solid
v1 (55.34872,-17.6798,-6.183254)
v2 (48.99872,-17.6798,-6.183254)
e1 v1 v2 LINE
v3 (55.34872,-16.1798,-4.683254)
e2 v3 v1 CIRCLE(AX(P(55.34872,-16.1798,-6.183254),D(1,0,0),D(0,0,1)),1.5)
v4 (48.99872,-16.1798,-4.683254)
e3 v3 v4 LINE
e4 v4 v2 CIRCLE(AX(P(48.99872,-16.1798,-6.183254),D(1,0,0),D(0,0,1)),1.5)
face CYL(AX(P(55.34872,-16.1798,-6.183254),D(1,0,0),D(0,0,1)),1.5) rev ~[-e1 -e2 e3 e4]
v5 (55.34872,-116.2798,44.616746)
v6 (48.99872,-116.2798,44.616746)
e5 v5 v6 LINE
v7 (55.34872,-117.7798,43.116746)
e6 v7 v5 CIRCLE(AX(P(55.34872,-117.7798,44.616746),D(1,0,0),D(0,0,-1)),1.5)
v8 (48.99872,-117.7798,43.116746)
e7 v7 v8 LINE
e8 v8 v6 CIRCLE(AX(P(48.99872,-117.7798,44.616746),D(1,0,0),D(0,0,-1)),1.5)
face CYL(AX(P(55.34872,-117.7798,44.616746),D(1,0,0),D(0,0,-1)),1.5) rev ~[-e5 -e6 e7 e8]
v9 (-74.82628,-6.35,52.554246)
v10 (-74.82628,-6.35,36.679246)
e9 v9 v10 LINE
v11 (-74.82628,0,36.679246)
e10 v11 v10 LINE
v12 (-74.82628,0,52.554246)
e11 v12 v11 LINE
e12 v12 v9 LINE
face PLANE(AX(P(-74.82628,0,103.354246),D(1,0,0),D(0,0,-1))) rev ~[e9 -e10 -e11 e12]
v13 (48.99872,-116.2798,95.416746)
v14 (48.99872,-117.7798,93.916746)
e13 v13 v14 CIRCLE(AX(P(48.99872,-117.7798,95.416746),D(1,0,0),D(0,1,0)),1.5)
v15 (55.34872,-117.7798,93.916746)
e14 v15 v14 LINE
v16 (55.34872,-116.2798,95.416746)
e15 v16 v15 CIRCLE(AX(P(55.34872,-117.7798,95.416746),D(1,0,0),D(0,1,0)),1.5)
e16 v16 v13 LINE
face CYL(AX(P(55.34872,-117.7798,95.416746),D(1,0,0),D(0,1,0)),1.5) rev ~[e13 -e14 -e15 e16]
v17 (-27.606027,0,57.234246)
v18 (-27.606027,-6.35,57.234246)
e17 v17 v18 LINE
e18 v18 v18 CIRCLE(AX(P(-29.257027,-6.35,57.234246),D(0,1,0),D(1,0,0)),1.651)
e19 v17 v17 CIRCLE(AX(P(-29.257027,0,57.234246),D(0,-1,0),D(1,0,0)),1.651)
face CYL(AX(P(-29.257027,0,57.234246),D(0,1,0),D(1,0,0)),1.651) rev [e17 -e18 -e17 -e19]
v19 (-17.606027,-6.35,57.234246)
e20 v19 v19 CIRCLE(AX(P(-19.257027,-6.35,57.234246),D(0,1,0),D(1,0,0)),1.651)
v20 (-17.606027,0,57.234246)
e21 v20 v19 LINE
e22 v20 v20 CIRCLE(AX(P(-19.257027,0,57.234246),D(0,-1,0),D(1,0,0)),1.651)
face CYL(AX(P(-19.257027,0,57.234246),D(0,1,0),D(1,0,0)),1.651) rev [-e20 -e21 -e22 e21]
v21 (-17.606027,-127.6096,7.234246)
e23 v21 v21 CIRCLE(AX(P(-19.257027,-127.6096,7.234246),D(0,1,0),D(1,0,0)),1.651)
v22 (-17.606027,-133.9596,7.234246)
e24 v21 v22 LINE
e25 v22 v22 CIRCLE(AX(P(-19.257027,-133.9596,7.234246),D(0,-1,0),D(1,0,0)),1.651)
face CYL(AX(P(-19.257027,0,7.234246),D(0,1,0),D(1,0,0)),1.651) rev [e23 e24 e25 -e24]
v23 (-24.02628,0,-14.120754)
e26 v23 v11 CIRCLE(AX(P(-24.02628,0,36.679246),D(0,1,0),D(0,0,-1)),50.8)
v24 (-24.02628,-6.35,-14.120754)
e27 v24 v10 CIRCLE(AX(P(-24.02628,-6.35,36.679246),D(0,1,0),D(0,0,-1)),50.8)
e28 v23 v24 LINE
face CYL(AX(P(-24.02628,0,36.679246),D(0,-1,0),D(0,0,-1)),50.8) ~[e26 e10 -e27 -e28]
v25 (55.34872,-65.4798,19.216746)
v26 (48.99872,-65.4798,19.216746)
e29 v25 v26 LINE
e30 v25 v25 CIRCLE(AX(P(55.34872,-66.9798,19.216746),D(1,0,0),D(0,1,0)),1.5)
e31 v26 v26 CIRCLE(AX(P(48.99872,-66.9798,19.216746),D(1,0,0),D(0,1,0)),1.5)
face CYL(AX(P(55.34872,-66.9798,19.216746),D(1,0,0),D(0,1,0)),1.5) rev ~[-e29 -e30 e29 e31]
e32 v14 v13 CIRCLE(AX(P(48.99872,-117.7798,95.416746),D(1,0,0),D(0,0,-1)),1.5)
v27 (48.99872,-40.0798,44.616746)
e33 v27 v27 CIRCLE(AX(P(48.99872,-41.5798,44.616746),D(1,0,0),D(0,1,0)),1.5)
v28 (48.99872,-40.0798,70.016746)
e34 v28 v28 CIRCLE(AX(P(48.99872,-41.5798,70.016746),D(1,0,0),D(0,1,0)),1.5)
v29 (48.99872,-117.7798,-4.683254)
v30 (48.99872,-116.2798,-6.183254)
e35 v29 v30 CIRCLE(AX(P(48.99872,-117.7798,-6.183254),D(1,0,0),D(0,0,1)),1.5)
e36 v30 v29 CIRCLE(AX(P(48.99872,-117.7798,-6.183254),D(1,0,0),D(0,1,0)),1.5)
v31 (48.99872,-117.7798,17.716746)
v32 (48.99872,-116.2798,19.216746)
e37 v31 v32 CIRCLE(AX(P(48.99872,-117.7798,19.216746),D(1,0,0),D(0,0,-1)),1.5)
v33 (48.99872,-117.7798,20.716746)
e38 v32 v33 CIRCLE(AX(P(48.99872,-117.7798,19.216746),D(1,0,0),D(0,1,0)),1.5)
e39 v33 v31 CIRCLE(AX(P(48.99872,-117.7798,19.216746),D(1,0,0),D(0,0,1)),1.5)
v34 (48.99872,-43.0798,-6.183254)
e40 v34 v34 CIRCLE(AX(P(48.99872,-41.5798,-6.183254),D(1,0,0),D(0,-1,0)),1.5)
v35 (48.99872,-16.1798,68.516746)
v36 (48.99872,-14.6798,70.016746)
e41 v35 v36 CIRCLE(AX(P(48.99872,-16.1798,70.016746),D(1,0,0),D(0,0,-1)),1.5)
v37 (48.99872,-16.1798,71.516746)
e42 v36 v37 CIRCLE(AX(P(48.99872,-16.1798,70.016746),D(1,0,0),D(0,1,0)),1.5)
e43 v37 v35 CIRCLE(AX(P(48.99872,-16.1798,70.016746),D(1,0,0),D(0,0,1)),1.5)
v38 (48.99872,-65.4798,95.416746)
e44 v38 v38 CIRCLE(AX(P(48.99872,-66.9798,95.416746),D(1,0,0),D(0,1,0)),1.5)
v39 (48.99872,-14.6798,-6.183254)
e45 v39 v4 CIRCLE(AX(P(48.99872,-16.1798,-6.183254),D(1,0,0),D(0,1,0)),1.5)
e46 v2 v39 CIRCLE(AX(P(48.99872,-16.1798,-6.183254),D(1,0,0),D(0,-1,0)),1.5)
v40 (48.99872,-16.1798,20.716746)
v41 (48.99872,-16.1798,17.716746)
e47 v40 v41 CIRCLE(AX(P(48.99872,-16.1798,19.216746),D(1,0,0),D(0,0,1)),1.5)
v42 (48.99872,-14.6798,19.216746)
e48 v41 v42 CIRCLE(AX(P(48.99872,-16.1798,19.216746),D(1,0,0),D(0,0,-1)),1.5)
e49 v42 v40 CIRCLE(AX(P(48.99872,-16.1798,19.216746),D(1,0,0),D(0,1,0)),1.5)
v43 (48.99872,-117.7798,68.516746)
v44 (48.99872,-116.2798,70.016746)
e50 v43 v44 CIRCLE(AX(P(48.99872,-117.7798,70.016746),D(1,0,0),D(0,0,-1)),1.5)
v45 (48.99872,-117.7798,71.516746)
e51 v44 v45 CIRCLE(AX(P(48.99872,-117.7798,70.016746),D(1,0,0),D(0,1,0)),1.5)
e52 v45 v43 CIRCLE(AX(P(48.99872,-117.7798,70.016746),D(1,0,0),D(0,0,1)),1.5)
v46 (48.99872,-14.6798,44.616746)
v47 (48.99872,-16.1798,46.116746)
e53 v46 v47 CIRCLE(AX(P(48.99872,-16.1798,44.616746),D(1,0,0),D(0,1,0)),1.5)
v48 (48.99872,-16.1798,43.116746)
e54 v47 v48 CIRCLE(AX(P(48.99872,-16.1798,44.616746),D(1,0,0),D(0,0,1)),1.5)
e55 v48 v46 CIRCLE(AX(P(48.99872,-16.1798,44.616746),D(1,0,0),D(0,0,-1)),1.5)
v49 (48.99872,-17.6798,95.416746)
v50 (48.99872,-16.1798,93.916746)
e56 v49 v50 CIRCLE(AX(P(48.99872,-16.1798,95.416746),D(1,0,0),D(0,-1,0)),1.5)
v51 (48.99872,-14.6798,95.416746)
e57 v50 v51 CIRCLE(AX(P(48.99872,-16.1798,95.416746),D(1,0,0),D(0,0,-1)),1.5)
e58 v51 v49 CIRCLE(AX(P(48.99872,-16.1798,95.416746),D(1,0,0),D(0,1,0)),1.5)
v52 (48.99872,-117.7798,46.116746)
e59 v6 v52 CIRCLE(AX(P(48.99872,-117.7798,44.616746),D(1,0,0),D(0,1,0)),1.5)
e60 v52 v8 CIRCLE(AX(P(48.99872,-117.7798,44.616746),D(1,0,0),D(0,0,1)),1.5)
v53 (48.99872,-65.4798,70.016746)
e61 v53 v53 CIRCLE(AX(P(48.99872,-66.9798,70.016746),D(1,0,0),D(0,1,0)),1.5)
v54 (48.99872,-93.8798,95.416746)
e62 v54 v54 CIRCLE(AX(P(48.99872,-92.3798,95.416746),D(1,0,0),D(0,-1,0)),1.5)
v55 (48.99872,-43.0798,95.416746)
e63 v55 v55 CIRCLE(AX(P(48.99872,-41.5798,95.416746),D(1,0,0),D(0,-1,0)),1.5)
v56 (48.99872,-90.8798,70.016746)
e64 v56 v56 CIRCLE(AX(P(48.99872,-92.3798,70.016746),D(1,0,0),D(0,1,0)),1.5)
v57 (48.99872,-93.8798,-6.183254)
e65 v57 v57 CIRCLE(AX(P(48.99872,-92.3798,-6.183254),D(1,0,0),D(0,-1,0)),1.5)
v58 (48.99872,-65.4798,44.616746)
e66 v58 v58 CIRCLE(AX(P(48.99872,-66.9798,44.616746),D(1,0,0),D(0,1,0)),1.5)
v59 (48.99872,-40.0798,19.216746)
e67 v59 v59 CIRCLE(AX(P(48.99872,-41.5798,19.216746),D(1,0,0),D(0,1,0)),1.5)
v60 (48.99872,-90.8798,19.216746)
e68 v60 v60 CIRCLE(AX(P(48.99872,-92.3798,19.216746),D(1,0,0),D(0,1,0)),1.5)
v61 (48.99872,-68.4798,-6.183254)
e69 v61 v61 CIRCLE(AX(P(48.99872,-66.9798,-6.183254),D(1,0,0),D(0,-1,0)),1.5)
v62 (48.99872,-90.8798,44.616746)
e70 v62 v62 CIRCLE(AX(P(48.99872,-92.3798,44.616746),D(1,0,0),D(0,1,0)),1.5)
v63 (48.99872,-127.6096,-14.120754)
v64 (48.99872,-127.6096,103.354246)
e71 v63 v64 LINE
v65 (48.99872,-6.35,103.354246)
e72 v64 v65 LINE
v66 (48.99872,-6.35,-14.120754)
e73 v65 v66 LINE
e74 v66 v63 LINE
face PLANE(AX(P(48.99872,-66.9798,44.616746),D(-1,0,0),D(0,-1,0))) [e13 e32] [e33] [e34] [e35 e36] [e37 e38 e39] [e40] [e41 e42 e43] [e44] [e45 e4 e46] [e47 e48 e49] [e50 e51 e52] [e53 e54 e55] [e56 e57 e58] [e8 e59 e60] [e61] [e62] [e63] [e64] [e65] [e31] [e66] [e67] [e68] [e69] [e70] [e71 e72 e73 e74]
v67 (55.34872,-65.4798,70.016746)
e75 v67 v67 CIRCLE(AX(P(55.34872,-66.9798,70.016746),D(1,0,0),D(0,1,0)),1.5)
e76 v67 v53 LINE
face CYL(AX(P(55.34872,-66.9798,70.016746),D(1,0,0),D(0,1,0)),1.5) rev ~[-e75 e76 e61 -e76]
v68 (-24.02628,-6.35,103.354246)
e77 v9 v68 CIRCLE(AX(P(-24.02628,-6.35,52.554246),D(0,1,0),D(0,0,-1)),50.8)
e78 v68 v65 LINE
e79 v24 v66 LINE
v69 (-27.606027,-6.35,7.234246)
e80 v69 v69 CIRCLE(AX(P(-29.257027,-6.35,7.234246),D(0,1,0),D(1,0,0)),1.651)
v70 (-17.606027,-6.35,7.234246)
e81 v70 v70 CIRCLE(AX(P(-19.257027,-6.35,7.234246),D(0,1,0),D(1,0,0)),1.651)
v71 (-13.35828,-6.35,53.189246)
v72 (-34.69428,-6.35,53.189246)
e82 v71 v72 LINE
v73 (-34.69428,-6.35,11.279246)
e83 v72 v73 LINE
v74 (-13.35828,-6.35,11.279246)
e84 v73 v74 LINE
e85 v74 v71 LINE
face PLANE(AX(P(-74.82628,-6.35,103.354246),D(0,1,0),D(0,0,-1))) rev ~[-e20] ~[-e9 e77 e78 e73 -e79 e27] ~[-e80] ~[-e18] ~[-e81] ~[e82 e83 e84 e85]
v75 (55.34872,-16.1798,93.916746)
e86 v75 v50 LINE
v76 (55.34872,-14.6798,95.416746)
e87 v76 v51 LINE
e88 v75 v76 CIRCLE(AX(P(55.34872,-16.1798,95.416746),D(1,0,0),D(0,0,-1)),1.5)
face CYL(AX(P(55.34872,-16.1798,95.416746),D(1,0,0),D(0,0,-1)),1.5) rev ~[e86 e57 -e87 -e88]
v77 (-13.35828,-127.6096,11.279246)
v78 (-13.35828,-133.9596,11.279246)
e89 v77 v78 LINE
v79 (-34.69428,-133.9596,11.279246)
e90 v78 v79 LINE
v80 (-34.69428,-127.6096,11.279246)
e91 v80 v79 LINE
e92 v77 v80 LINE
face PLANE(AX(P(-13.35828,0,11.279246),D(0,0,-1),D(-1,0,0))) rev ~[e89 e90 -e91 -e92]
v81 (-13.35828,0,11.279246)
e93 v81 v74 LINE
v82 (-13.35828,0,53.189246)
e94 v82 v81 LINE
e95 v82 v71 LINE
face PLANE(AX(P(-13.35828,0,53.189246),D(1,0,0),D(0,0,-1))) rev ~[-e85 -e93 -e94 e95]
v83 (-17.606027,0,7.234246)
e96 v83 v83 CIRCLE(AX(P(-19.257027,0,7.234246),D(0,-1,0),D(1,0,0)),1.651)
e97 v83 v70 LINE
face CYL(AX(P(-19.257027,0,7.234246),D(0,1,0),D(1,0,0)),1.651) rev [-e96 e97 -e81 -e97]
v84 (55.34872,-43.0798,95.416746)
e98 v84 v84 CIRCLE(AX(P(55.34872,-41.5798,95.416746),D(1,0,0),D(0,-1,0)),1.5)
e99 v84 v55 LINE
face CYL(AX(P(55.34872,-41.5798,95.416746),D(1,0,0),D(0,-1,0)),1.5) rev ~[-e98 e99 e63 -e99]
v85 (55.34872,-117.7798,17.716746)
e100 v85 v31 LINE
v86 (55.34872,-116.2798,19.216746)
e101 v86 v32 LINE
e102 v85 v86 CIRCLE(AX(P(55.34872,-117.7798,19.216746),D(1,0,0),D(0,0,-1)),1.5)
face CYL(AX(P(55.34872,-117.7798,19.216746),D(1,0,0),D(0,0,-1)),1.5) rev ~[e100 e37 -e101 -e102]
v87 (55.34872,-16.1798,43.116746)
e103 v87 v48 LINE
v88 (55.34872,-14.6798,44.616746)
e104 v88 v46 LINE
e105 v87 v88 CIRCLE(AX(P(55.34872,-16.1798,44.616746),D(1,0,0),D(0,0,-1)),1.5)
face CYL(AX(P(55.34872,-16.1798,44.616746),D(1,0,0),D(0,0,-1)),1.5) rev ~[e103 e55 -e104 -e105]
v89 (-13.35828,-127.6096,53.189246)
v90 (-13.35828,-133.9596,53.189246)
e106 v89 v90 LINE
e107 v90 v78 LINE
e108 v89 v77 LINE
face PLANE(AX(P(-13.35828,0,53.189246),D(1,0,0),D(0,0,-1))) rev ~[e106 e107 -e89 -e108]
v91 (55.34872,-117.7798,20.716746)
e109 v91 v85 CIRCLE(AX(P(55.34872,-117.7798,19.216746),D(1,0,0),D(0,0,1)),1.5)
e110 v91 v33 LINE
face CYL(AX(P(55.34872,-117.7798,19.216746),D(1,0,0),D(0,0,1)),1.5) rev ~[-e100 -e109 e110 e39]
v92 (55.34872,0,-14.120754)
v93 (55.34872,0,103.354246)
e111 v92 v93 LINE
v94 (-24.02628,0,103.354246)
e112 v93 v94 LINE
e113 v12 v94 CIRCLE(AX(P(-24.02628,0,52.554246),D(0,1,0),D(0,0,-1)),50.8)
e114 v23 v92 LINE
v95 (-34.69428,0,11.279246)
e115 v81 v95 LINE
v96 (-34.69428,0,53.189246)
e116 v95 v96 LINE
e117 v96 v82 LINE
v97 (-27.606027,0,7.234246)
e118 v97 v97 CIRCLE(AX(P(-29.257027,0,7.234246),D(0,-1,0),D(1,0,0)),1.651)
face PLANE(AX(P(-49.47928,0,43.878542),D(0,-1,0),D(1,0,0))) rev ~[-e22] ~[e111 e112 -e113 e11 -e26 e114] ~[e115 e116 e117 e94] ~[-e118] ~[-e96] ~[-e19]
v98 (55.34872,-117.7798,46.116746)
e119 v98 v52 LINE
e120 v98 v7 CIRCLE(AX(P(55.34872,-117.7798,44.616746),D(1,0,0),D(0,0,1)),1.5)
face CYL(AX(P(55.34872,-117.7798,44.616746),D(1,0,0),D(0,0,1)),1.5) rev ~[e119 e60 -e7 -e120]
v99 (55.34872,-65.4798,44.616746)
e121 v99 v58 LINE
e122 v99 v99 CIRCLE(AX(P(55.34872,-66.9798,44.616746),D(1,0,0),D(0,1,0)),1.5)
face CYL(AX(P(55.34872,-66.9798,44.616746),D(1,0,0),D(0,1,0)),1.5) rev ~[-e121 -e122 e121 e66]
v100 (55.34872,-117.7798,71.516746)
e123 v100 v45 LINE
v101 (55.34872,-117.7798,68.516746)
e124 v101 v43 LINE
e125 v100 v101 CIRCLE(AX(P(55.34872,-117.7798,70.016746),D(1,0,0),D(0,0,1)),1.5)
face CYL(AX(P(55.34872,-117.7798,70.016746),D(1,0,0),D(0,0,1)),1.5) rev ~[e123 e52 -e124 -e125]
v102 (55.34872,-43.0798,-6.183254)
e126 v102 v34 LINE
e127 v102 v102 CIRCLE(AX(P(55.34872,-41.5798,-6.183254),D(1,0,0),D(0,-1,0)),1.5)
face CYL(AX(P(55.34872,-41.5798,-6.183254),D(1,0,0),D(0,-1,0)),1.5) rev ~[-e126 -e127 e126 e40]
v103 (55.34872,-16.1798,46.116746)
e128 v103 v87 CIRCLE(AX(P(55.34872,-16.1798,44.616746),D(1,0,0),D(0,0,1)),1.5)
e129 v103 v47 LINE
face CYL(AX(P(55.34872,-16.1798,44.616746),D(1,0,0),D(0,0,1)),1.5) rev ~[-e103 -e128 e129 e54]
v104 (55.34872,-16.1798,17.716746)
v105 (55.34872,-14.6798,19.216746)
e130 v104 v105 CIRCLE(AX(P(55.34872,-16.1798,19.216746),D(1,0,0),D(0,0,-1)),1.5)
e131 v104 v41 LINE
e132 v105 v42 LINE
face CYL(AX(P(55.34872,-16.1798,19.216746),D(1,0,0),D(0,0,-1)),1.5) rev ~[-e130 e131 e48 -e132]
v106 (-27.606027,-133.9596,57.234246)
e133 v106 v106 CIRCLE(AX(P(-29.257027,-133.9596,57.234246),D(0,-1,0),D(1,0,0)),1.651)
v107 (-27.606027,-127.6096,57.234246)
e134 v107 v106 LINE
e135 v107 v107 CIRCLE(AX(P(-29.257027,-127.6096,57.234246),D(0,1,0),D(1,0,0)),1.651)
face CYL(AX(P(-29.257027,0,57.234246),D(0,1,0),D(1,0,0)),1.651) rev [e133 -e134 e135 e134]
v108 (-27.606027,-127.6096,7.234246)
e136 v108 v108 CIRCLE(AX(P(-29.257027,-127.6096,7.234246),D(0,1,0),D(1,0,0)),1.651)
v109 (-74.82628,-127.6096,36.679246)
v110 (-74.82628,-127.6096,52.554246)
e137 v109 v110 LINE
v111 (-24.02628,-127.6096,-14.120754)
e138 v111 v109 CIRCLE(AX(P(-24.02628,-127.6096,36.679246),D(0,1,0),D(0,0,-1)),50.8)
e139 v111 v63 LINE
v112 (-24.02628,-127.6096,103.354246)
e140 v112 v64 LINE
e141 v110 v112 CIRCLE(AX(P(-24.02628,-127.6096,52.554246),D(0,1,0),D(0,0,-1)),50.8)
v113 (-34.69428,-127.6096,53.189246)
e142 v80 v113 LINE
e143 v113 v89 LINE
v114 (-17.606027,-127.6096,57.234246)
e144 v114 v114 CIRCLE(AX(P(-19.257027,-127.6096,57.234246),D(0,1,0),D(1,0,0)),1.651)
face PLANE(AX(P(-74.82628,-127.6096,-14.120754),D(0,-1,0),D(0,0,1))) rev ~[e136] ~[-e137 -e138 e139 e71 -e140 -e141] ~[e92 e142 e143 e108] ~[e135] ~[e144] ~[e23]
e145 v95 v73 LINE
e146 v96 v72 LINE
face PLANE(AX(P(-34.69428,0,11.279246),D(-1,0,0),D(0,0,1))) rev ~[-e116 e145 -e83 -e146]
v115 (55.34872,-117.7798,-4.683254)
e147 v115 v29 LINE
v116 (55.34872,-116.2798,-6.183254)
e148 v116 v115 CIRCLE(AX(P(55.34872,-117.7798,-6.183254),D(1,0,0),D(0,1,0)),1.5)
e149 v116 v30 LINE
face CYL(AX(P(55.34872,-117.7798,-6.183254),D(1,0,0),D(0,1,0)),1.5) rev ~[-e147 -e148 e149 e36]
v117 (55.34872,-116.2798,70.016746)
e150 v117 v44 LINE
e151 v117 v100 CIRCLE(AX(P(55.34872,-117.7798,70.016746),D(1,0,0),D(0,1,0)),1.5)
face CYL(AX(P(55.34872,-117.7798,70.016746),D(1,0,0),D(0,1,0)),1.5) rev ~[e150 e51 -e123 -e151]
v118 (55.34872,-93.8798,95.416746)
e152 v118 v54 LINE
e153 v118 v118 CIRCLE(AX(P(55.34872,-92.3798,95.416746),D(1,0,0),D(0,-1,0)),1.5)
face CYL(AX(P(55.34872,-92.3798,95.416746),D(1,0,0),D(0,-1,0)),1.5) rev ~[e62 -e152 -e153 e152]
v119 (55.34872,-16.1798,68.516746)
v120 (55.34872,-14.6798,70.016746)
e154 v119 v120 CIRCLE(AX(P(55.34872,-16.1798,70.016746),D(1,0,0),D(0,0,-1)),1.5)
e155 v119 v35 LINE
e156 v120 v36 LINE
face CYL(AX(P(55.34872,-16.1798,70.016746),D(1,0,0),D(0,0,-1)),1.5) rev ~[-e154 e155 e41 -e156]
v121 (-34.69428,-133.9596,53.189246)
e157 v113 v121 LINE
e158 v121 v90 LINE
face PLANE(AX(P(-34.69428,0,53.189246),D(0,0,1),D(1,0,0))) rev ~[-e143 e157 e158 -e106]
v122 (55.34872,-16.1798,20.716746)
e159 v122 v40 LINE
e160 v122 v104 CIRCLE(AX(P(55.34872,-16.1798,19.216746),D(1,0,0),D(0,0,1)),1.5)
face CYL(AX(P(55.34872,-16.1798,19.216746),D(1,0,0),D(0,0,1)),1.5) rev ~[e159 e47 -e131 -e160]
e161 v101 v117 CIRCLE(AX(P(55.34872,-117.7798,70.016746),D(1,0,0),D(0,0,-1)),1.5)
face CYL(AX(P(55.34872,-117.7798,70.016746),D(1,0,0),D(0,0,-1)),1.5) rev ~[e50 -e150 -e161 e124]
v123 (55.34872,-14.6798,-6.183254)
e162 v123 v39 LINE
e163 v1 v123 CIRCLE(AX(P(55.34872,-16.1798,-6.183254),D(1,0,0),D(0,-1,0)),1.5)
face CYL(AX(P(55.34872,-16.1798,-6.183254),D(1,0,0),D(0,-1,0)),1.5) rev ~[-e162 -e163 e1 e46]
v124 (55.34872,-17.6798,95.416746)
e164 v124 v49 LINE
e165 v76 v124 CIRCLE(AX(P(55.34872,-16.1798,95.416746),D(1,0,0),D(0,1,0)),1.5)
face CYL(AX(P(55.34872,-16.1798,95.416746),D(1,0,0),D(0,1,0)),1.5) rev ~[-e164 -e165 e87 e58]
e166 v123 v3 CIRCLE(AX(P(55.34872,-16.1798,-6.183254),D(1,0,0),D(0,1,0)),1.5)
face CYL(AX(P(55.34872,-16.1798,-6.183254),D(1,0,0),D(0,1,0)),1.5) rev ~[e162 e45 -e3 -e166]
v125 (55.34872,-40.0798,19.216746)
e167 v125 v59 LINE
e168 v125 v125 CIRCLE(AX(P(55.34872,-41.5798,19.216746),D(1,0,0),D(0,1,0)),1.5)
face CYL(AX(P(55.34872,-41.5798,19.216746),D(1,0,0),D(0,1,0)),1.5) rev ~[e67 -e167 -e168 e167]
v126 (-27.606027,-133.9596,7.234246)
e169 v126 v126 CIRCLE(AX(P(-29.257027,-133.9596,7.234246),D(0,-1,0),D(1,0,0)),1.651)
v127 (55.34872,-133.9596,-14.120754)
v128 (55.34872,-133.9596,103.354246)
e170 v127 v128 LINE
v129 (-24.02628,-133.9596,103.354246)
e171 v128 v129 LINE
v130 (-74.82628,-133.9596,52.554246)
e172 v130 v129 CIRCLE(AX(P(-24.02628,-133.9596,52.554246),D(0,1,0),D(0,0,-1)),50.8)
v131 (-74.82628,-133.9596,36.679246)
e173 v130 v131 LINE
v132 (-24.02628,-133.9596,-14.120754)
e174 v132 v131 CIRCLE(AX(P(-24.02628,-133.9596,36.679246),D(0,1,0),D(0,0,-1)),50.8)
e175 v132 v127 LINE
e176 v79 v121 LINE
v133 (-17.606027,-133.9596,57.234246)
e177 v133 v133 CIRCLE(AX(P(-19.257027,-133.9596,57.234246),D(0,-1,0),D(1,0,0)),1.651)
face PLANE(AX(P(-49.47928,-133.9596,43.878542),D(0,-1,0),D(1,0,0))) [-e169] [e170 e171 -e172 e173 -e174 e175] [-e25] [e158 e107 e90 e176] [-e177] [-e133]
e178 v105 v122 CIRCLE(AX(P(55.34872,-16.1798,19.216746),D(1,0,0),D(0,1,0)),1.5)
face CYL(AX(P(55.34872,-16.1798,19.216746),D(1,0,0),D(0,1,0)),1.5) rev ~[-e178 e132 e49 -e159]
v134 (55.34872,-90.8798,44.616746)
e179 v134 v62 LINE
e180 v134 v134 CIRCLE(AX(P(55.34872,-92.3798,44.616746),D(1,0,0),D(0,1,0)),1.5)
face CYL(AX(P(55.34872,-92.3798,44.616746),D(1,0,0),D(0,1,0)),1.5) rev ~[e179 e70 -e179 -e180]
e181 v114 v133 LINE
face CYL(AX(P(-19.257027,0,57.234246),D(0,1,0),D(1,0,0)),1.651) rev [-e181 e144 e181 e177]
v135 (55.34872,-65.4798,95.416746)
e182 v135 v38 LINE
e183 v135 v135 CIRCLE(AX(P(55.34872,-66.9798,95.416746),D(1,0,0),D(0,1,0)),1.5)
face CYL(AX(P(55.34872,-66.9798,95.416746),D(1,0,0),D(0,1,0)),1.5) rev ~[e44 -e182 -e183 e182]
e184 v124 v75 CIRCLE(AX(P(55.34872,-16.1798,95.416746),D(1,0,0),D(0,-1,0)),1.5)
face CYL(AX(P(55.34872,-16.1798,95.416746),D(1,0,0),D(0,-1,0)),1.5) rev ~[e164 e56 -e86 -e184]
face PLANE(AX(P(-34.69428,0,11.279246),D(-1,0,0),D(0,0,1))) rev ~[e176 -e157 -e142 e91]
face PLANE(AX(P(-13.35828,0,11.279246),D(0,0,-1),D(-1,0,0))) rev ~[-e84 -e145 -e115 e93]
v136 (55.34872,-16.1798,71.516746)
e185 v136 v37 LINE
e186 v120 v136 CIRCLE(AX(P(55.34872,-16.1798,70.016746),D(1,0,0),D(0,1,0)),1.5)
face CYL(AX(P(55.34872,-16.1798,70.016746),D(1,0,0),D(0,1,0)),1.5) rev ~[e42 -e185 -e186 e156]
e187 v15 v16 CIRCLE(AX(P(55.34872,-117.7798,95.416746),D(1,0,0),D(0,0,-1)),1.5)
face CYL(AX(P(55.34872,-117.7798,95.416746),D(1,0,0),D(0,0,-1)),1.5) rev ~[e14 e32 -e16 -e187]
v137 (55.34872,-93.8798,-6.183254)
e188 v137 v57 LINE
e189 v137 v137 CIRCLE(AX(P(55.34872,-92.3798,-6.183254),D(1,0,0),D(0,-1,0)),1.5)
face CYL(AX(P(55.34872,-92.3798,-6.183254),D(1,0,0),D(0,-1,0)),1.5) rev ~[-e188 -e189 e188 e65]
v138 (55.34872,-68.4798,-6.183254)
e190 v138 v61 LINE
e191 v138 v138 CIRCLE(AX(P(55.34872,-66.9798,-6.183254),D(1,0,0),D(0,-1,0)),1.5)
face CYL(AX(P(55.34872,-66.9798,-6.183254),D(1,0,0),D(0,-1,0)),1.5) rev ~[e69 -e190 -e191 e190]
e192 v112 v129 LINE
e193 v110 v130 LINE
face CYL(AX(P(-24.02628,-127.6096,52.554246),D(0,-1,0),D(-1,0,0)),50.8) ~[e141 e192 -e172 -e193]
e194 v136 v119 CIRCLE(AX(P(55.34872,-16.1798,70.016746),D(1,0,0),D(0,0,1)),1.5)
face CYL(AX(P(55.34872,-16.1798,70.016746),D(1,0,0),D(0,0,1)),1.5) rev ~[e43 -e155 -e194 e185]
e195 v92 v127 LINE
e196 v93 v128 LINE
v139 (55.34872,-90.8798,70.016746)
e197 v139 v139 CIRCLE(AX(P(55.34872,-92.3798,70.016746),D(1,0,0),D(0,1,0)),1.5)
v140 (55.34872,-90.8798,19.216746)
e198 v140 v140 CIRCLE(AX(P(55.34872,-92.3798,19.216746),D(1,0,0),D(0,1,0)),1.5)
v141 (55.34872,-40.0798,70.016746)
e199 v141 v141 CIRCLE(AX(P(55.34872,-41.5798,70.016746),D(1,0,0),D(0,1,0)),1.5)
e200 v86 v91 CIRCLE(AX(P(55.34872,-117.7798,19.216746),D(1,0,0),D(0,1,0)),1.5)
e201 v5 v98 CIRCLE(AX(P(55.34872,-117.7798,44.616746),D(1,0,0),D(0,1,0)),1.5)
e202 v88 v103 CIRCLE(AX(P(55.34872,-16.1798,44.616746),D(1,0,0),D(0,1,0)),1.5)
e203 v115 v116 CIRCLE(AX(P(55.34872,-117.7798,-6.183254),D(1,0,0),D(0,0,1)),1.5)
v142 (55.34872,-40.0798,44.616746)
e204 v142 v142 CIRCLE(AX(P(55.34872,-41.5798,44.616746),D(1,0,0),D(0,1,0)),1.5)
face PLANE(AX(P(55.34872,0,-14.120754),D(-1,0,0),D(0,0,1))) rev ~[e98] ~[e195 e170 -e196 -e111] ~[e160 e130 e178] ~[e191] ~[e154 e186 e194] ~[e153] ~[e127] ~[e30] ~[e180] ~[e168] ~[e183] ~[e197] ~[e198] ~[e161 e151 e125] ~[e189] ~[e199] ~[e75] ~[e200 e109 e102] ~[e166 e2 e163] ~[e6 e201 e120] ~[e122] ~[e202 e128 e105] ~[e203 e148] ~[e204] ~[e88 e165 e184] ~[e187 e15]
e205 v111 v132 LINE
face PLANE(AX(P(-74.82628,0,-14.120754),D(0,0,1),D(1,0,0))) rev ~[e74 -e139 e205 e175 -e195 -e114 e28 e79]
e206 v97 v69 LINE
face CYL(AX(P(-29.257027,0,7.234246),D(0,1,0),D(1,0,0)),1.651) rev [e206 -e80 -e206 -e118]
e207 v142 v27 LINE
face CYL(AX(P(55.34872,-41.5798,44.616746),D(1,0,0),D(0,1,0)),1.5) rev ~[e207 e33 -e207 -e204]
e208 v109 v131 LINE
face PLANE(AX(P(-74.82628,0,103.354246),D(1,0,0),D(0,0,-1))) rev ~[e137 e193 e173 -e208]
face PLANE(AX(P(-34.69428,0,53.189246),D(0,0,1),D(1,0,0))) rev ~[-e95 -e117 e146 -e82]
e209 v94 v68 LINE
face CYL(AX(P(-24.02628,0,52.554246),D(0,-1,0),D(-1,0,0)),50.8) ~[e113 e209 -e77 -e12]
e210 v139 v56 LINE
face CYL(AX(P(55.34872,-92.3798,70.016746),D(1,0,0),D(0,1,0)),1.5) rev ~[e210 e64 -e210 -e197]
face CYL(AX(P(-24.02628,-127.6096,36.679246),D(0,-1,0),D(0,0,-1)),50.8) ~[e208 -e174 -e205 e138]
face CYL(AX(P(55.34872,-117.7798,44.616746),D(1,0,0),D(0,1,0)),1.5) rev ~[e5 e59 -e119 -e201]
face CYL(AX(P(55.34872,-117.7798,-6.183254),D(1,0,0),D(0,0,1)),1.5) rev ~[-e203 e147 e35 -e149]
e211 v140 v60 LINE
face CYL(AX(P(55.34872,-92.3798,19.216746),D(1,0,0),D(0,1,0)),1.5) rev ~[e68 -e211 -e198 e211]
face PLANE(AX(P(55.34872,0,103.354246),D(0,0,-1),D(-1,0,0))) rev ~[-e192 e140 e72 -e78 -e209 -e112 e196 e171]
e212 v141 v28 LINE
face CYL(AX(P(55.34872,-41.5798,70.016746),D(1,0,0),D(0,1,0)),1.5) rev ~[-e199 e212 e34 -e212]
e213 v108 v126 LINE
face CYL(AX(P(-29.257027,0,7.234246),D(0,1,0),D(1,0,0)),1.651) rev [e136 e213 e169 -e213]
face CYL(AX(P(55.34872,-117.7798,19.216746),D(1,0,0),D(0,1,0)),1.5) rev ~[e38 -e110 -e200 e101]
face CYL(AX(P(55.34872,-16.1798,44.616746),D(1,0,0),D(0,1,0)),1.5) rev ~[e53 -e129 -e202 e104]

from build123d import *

# Parameters (mm, degrees)
F0_R     = 1.651
F1_DEPTH = 133.9596
F3_DEPTH = 123.825
F4_R     = 50.8
F5_R     = 1.5
F6_DEPTH = 25.4


with BuildPart() as f1:
    # F0 (on Front) → F1 (new body)
    with BuildSketch(Plane.XZ):
        Polygon((-34.6942804754, 11.2792461441), (-34.6942804754, 53.1892461441), (-24.0262804754, 53.1892461441), (-24.0262804754, 103.3542461441), (-74.8262804754, 103.3542461441), (-74.8262804754, -14.1207538559), (-24.0262804754, -14.1207538559), (-24.0262804754, 11.2792461441), align=None)
        with Locations((-29.2570274323, 7.2342461441)):
            Circle(F0_R, mode=Mode.SUBTRACT)
        with Locations((-29.2570274323, 57.2342461441)):
            Circle(F0_R, mode=Mode.SUBTRACT)
        Polygon((-24.0262804754, 103.3542461441), (-24.0262804754, 53.1892461441), (-13.3582804754, 53.1892461441), (-13.3582804754, 11.2792461441), (-24.0262804754, 11.2792461441), (-24.0262804754, -14.1207538559), (55.3487195246, -14.1207538559), (55.3487195246, 103.3542461441), align=None)
        with Locations((-19.2570274323, 7.2342461441)):
            Circle(F0_R, mode=Mode.SUBTRACT)
        with Locations((-19.2570274323, 57.2342461441)):
            Circle(F0_R, mode=Mode.SUBTRACT)
    extrude(amount=F1_DEPTH)

    # F2 (on face) → F3 (cut)
    with BuildSketch(Plane(origin=(-74.8262804754, 0, 0), x_dir=(0, -1, 0), z_dir=(-1, 0, 0))):
        Polygon((127.6096, 103.3542461441), (6.35, 103.3542461441), (6.35, -14.1207538559), (111.6725547834, -14.1207538559), (127.6096, -14.1207538559), align=None)
    extrude(amount=-F3_DEPTH, mode=Mode.SUBTRACT)

    # F4
    f4_edges = [f1.edges().sort_by_distance(p)[0] for p in [
        (-74.82628, -130.7846, -14.120754),
        (-74.82628, -130.7846, 103.354246),
        (-74.82628, -3.175, -14.120754),
        (-74.82628, -3.175, 103.354246),
    ]]
    fillet(f4_edges, radius=F4_R)

    # F5 (on face) → F6 (cut)
    with BuildSketch(Plane.YZ.offset(55.3487195246)):
        with BuildLine():
            ThreePointArc((-116.2798, 44.6167461441), (-116.7191398282, 45.6774063159), (-117.7798, 46.1167461441))
            Line((-117.7798, 46.1167461441), (-117.7798, 43.1167461441))
            ThreePointArc((-117.7798, 43.1167461441), (-116.7191398282, 43.5560859723), (-116.2798, 44.6167461441))
        make_face()
        with BuildLine():
            Line((-117.7798, 43.1167461441), (-117.7798, 46.1167461441))
            ThreePointArc((-117.7798, 46.1167461441), (-119.2798, 44.6167461441), (-117.7798, 43.1167461441))
        make_face()
        with Locations((-92.3798, 44.6167461441)):
            Circle(F5_R)
        with Locations((-66.9798, 44.6167461441)):
            Circle(F5_R)
        with Locations((-41.5798, 44.6167461441)):
            Circle(F5_R)
        with BuildLine():
            Line((-16.1798, 43.1167461441), (-16.1798, 46.1167461441))
            ThreePointArc((-16.1798, 46.1167461441), (-17.6798, 44.6167461441), (-16.1798, 43.1167461441))
        make_face()
        with BuildLine():
            ThreePointArc((-14.6798, 44.6167461441), (-15.1191398282, 45.6774063159), (-16.1798, 46.1167461441))
            Line((-16.1798, 46.1167461441), (-16.1798, 43.1167461441))
            ThreePointArc((-16.1798, 43.1167461441), (-15.1191398282, 43.5560859723), (-14.6798, 44.6167461441))
        make_face()
        with BuildLine():
            Line((-16.1798, 17.7167461441), (-16.1798, 20.7167461441))
            ThreePointArc((-16.1798, 20.7167461441), (-17.6798, 19.2167461441), (-16.1798, 17.7167461441))
        make_face()
        with BuildLine():
            ThreePointArc((-14.6798, 19.2167461441), (-15.1191398282, 20.2774063159), (-16.1798, 20.7167461441))
            Line((-16.1798, 20.7167461441), (-16.1798, 17.7167461441))
            ThreePointArc((-16.1798, 17.7167461441), (-15.1191398282, 18.1560859723), (-14.6798, 19.2167461441))
        make_face()
        with Locations((-41.5798, 19.2167461441)):
            Circle(F5_R)
        with Locations((-66.9798, 19.2167461441)):
            Circle(F5_R)
        with Locations((-92.3798, 19.2167461441)):
            Circle(F5_R)
        with BuildLine():
            Line((-117.7798, 17.7167461441), (-117.7798, 20.7167461441))
            ThreePointArc((-117.7798, 20.7167461441), (-119.2798, 19.2167461441), (-117.7798, 17.7167461441))
        make_face()
        with BuildLine():
            Line((-117.7798, -6.1832538559), (-117.7798, -4.6832538559))
            ThreePointArc((-117.7798, -4.6832538559), (-118.8404601718, -7.2439140277), (-116.2798, -6.1832538559))
            Line((-116.2798, -6.1832538559), (-117.7798, -6.1832538559))
        make_face()
        with BuildLine():
            ThreePointArc((-116.2798, 19.2167461441), (-116.7191398282, 20.2774063159), (-117.7798, 20.7167461441))
            Line((-117.7798, 20.7167461441), (-117.7798, 17.7167461441))
            ThreePointArc((-117.7798, 17.7167461441), (-116.7191398282, 18.1560859723), (-116.2798, 19.2167461441))
        make_face()
        with BuildLine():
            ThreePointArc((-90.8798, -6.1832538559), (-92.3798, -4.6832538559), (-93.8798, -6.1832538559))
            Line((-93.8798, -6.1832538559), (-90.8798, -6.1832538559))
        make_face()
        with BuildLine():
            Line((-90.8798, -6.1832538559), (-93.8798, -6.1832538559))
            ThreePointArc((-93.8798, -6.1832538559), (-92.3798, -7.6832538559), (-90.8798, -6.1832538559))
        make_face()
        with BuildLine():
            ThreePointArc((-65.4798, -6.1832538559), (-66.9798, -4.6832538559), (-68.4798, -6.1832538559))
            Line((-68.4798, -6.1832538559), (-65.4798, -6.1832538559))
        make_face()
        with BuildLine():
            Line((-65.4798, -6.1832538559), (-68.4798, -6.1832538559))
            ThreePointArc((-68.4798, -6.1832538559), (-66.9798, -7.6832538559), (-65.4798, -6.1832538559))
        make_face()
        with BuildLine():
            ThreePointArc((-40.0798, -6.1832538559), (-41.5798, -4.6832538559), (-43.0798, -6.1832538559))
            Line((-43.0798, -6.1832538559), (-40.0798, -6.1832538559))
        make_face()
        with BuildLine():
            Line((-40.0798, -6.1832538559), (-43.0798, -6.1832538559))
            ThreePointArc((-43.0798, -6.1832538559), (-41.5798, -7.6832538559), (-40.0798, -6.1832538559))
        make_face()
        with BuildLine():
            ThreePointArc((-14.6798, -6.1832538559), (-15.1191398282, -5.1225936841), (-16.1798, -4.6832538559))
            Line((-16.1798, -4.6832538559), (-16.1798, -6.1832538559))
            Line((-16.1798, -6.1832538559), (-17.6798, -6.1832538559))
            ThreePointArc((-17.6798, -6.1832538559), (-16.1798, -7.6832538559), (-14.6798, -6.1832538559))
        make_face()
        with BuildLine():
            Line((-16.1798, -6.1832538559), (-16.1798, -4.6832538559))
            ThreePointArc((-16.1798, -4.6832538559), (-17.2404601718, -5.1225936841), (-17.6798, -6.1832538559))
            Line((-17.6798, -6.1832538559), (-16.1798, -6.1832538559))
        make_face()
        with BuildLine():
            ThreePointArc((-116.2798, -6.1832538559), (-116.7191398282, -5.1225936841), (-117.7798, -4.6832538559))
            Line((-117.7798, -4.6832538559), (-117.7798, -6.1832538559))
            Line((-117.7798, -6.1832538559), (-116.2798, -6.1832538559))
        make_face()
        with BuildLine():
            ThreePointArc((-116.2798, 70.0167461441), (-116.7191398282, 71.0774063159), (-117.7798, 71.5167461441))
            Line((-117.7798, 71.5167461441), (-117.7798, 68.5167461441))
            ThreePointArc((-117.7798, 68.5167461441), (-116.7191398282, 68.9560859723), (-116.2798, 70.0167461441))
        make_face()
        with BuildLine():
            Line((-117.7798, 68.5167461441), (-117.7798, 71.5167461441))
            ThreePointArc((-117.7798, 71.5167461441), (-119.2798, 70.0167461441), (-117.7798, 68.5167461441))
        make_face()
        with Locations((-92.3798, 70.0167461441)):
            Circle(F5_R)
        with Locations((-66.9798, 70.0167461441)):
            Circle(F5_R)
        with Locations((-41.5798, 70.0167461441)):
            Circle(F5_R)
        with BuildLine():
            ThreePointArc((-14.6798, 70.0167461441), (-15.1191398282, 71.0774063159), (-16.1798, 71.5167461441))
            Line((-16.1798, 71.5167461441), (-16.1798, 68.5167461441))
            ThreePointArc((-16.1798, 68.5167461441), (-15.1191398282, 68.9560859723), (-14.6798, 70.0167461441))
        make_face()
        with BuildLine():
            Line((-16.1798, 68.5167461441), (-16.1798, 71.5167461441))
            ThreePointArc((-16.1798, 71.5167461441), (-17.6798, 70.0167461441), (-16.1798, 68.5167461441))
        make_face()
        with BuildLine():
            ThreePointArc((-14.6798, 95.4167461441), (-16.1798, 96.9167461441), (-17.6798, 95.4167461441))
            Line((-17.6798, 95.4167461441), (-16.1798, 95.4167461441))
            Line((-16.1798, 95.4167461441), (-16.1798, 93.9167461441))
            ThreePointArc((-16.1798, 93.9167461441), (-15.1191398282, 94.3560859723), (-14.6798, 95.4167461441))
        make_face()
        with BuildLine():
            Line((-16.1798, 95.4167461441), (-17.6798, 95.4167461441))
            ThreePointArc((-17.6798, 95.4167461441), (-17.2404601718, 94.3560859723), (-16.1798, 93.9167461441))
            Line((-16.1798, 93.9167461441), (-16.1798, 95.4167461441))
        make_face()
        with BuildLine():
            ThreePointArc((-40.0798, 95.4167461441), (-41.5798, 96.9167461441), (-43.0798, 95.4167461441))
            Line((-43.0798, 95.4167461441), (-40.0798, 95.4167461441))
        make_face()
        with BuildLine():
            Line((-40.0798, 95.4167461441), (-43.0798, 95.4167461441))
            ThreePointArc((-43.0798, 95.4167461441), (-41.5798, 93.9167461441), (-40.0798, 95.4167461441))
        make_face()
        with BuildLine():
            Line((-65.4798, 95.4167461441), (-68.4798, 95.4167461441))
            ThreePointArc((-68.4798, 95.4167461441), (-66.9798, 93.9167461441), (-65.4798, 95.4167461441))
        make_face()
        with BuildLine():
            ThreePointArc((-65.4798, 95.4167461441), (-66.9798, 96.9167461441), (-68.4798, 95.4167461441))
            Line((-68.4798, 95.4167461441), (-65.4798, 95.4167461441))
        make_face()
        with BuildLine():
            ThreePointArc((-90.8798, 95.4167461441), (-92.3798, 96.9167461441), (-93.8798, 95.4167461441))
            Line((-93.8798, 95.4167461441), (-90.8798, 95.4167461441))
        make_face()
        with BuildLine():
            Line((-117.7798, 95.4167461441), (-116.2798, 95.4167461441))
            ThreePointArc((-116.2798, 95.4167461441), (-118.8404601718, 96.4774063159), (-117.7798, 93.9167461441))
            Line((-117.7798, 93.9167461441), (-117.7798, 95.4167461441))
        make_face()
        with BuildLine():
            ThreePointArc((-117.7798, 93.9167461441), (-116.7191398282, 94.3560859723), (-116.2798, 95.4167461441))
            Line((-116.2798, 95.4167461441), (-117.7798, 95.4167461441))
            Line((-117.7798, 95.4167461441), (-117.7798, 93.9167461441))
        make_face()
        with BuildLine():
            Line((-90.8798, 95.4167461441), (-93.8798, 95.4167461441))
            ThreePointArc((-93.8798, 95.4167461441), (-92.3798, 93.9167461441), (-90.8798, 95.4167461441))
        make_face()
    extrude(amount=-F6_DEPTH, mode=Mode.SUBTRACT)


solid = f1.part
